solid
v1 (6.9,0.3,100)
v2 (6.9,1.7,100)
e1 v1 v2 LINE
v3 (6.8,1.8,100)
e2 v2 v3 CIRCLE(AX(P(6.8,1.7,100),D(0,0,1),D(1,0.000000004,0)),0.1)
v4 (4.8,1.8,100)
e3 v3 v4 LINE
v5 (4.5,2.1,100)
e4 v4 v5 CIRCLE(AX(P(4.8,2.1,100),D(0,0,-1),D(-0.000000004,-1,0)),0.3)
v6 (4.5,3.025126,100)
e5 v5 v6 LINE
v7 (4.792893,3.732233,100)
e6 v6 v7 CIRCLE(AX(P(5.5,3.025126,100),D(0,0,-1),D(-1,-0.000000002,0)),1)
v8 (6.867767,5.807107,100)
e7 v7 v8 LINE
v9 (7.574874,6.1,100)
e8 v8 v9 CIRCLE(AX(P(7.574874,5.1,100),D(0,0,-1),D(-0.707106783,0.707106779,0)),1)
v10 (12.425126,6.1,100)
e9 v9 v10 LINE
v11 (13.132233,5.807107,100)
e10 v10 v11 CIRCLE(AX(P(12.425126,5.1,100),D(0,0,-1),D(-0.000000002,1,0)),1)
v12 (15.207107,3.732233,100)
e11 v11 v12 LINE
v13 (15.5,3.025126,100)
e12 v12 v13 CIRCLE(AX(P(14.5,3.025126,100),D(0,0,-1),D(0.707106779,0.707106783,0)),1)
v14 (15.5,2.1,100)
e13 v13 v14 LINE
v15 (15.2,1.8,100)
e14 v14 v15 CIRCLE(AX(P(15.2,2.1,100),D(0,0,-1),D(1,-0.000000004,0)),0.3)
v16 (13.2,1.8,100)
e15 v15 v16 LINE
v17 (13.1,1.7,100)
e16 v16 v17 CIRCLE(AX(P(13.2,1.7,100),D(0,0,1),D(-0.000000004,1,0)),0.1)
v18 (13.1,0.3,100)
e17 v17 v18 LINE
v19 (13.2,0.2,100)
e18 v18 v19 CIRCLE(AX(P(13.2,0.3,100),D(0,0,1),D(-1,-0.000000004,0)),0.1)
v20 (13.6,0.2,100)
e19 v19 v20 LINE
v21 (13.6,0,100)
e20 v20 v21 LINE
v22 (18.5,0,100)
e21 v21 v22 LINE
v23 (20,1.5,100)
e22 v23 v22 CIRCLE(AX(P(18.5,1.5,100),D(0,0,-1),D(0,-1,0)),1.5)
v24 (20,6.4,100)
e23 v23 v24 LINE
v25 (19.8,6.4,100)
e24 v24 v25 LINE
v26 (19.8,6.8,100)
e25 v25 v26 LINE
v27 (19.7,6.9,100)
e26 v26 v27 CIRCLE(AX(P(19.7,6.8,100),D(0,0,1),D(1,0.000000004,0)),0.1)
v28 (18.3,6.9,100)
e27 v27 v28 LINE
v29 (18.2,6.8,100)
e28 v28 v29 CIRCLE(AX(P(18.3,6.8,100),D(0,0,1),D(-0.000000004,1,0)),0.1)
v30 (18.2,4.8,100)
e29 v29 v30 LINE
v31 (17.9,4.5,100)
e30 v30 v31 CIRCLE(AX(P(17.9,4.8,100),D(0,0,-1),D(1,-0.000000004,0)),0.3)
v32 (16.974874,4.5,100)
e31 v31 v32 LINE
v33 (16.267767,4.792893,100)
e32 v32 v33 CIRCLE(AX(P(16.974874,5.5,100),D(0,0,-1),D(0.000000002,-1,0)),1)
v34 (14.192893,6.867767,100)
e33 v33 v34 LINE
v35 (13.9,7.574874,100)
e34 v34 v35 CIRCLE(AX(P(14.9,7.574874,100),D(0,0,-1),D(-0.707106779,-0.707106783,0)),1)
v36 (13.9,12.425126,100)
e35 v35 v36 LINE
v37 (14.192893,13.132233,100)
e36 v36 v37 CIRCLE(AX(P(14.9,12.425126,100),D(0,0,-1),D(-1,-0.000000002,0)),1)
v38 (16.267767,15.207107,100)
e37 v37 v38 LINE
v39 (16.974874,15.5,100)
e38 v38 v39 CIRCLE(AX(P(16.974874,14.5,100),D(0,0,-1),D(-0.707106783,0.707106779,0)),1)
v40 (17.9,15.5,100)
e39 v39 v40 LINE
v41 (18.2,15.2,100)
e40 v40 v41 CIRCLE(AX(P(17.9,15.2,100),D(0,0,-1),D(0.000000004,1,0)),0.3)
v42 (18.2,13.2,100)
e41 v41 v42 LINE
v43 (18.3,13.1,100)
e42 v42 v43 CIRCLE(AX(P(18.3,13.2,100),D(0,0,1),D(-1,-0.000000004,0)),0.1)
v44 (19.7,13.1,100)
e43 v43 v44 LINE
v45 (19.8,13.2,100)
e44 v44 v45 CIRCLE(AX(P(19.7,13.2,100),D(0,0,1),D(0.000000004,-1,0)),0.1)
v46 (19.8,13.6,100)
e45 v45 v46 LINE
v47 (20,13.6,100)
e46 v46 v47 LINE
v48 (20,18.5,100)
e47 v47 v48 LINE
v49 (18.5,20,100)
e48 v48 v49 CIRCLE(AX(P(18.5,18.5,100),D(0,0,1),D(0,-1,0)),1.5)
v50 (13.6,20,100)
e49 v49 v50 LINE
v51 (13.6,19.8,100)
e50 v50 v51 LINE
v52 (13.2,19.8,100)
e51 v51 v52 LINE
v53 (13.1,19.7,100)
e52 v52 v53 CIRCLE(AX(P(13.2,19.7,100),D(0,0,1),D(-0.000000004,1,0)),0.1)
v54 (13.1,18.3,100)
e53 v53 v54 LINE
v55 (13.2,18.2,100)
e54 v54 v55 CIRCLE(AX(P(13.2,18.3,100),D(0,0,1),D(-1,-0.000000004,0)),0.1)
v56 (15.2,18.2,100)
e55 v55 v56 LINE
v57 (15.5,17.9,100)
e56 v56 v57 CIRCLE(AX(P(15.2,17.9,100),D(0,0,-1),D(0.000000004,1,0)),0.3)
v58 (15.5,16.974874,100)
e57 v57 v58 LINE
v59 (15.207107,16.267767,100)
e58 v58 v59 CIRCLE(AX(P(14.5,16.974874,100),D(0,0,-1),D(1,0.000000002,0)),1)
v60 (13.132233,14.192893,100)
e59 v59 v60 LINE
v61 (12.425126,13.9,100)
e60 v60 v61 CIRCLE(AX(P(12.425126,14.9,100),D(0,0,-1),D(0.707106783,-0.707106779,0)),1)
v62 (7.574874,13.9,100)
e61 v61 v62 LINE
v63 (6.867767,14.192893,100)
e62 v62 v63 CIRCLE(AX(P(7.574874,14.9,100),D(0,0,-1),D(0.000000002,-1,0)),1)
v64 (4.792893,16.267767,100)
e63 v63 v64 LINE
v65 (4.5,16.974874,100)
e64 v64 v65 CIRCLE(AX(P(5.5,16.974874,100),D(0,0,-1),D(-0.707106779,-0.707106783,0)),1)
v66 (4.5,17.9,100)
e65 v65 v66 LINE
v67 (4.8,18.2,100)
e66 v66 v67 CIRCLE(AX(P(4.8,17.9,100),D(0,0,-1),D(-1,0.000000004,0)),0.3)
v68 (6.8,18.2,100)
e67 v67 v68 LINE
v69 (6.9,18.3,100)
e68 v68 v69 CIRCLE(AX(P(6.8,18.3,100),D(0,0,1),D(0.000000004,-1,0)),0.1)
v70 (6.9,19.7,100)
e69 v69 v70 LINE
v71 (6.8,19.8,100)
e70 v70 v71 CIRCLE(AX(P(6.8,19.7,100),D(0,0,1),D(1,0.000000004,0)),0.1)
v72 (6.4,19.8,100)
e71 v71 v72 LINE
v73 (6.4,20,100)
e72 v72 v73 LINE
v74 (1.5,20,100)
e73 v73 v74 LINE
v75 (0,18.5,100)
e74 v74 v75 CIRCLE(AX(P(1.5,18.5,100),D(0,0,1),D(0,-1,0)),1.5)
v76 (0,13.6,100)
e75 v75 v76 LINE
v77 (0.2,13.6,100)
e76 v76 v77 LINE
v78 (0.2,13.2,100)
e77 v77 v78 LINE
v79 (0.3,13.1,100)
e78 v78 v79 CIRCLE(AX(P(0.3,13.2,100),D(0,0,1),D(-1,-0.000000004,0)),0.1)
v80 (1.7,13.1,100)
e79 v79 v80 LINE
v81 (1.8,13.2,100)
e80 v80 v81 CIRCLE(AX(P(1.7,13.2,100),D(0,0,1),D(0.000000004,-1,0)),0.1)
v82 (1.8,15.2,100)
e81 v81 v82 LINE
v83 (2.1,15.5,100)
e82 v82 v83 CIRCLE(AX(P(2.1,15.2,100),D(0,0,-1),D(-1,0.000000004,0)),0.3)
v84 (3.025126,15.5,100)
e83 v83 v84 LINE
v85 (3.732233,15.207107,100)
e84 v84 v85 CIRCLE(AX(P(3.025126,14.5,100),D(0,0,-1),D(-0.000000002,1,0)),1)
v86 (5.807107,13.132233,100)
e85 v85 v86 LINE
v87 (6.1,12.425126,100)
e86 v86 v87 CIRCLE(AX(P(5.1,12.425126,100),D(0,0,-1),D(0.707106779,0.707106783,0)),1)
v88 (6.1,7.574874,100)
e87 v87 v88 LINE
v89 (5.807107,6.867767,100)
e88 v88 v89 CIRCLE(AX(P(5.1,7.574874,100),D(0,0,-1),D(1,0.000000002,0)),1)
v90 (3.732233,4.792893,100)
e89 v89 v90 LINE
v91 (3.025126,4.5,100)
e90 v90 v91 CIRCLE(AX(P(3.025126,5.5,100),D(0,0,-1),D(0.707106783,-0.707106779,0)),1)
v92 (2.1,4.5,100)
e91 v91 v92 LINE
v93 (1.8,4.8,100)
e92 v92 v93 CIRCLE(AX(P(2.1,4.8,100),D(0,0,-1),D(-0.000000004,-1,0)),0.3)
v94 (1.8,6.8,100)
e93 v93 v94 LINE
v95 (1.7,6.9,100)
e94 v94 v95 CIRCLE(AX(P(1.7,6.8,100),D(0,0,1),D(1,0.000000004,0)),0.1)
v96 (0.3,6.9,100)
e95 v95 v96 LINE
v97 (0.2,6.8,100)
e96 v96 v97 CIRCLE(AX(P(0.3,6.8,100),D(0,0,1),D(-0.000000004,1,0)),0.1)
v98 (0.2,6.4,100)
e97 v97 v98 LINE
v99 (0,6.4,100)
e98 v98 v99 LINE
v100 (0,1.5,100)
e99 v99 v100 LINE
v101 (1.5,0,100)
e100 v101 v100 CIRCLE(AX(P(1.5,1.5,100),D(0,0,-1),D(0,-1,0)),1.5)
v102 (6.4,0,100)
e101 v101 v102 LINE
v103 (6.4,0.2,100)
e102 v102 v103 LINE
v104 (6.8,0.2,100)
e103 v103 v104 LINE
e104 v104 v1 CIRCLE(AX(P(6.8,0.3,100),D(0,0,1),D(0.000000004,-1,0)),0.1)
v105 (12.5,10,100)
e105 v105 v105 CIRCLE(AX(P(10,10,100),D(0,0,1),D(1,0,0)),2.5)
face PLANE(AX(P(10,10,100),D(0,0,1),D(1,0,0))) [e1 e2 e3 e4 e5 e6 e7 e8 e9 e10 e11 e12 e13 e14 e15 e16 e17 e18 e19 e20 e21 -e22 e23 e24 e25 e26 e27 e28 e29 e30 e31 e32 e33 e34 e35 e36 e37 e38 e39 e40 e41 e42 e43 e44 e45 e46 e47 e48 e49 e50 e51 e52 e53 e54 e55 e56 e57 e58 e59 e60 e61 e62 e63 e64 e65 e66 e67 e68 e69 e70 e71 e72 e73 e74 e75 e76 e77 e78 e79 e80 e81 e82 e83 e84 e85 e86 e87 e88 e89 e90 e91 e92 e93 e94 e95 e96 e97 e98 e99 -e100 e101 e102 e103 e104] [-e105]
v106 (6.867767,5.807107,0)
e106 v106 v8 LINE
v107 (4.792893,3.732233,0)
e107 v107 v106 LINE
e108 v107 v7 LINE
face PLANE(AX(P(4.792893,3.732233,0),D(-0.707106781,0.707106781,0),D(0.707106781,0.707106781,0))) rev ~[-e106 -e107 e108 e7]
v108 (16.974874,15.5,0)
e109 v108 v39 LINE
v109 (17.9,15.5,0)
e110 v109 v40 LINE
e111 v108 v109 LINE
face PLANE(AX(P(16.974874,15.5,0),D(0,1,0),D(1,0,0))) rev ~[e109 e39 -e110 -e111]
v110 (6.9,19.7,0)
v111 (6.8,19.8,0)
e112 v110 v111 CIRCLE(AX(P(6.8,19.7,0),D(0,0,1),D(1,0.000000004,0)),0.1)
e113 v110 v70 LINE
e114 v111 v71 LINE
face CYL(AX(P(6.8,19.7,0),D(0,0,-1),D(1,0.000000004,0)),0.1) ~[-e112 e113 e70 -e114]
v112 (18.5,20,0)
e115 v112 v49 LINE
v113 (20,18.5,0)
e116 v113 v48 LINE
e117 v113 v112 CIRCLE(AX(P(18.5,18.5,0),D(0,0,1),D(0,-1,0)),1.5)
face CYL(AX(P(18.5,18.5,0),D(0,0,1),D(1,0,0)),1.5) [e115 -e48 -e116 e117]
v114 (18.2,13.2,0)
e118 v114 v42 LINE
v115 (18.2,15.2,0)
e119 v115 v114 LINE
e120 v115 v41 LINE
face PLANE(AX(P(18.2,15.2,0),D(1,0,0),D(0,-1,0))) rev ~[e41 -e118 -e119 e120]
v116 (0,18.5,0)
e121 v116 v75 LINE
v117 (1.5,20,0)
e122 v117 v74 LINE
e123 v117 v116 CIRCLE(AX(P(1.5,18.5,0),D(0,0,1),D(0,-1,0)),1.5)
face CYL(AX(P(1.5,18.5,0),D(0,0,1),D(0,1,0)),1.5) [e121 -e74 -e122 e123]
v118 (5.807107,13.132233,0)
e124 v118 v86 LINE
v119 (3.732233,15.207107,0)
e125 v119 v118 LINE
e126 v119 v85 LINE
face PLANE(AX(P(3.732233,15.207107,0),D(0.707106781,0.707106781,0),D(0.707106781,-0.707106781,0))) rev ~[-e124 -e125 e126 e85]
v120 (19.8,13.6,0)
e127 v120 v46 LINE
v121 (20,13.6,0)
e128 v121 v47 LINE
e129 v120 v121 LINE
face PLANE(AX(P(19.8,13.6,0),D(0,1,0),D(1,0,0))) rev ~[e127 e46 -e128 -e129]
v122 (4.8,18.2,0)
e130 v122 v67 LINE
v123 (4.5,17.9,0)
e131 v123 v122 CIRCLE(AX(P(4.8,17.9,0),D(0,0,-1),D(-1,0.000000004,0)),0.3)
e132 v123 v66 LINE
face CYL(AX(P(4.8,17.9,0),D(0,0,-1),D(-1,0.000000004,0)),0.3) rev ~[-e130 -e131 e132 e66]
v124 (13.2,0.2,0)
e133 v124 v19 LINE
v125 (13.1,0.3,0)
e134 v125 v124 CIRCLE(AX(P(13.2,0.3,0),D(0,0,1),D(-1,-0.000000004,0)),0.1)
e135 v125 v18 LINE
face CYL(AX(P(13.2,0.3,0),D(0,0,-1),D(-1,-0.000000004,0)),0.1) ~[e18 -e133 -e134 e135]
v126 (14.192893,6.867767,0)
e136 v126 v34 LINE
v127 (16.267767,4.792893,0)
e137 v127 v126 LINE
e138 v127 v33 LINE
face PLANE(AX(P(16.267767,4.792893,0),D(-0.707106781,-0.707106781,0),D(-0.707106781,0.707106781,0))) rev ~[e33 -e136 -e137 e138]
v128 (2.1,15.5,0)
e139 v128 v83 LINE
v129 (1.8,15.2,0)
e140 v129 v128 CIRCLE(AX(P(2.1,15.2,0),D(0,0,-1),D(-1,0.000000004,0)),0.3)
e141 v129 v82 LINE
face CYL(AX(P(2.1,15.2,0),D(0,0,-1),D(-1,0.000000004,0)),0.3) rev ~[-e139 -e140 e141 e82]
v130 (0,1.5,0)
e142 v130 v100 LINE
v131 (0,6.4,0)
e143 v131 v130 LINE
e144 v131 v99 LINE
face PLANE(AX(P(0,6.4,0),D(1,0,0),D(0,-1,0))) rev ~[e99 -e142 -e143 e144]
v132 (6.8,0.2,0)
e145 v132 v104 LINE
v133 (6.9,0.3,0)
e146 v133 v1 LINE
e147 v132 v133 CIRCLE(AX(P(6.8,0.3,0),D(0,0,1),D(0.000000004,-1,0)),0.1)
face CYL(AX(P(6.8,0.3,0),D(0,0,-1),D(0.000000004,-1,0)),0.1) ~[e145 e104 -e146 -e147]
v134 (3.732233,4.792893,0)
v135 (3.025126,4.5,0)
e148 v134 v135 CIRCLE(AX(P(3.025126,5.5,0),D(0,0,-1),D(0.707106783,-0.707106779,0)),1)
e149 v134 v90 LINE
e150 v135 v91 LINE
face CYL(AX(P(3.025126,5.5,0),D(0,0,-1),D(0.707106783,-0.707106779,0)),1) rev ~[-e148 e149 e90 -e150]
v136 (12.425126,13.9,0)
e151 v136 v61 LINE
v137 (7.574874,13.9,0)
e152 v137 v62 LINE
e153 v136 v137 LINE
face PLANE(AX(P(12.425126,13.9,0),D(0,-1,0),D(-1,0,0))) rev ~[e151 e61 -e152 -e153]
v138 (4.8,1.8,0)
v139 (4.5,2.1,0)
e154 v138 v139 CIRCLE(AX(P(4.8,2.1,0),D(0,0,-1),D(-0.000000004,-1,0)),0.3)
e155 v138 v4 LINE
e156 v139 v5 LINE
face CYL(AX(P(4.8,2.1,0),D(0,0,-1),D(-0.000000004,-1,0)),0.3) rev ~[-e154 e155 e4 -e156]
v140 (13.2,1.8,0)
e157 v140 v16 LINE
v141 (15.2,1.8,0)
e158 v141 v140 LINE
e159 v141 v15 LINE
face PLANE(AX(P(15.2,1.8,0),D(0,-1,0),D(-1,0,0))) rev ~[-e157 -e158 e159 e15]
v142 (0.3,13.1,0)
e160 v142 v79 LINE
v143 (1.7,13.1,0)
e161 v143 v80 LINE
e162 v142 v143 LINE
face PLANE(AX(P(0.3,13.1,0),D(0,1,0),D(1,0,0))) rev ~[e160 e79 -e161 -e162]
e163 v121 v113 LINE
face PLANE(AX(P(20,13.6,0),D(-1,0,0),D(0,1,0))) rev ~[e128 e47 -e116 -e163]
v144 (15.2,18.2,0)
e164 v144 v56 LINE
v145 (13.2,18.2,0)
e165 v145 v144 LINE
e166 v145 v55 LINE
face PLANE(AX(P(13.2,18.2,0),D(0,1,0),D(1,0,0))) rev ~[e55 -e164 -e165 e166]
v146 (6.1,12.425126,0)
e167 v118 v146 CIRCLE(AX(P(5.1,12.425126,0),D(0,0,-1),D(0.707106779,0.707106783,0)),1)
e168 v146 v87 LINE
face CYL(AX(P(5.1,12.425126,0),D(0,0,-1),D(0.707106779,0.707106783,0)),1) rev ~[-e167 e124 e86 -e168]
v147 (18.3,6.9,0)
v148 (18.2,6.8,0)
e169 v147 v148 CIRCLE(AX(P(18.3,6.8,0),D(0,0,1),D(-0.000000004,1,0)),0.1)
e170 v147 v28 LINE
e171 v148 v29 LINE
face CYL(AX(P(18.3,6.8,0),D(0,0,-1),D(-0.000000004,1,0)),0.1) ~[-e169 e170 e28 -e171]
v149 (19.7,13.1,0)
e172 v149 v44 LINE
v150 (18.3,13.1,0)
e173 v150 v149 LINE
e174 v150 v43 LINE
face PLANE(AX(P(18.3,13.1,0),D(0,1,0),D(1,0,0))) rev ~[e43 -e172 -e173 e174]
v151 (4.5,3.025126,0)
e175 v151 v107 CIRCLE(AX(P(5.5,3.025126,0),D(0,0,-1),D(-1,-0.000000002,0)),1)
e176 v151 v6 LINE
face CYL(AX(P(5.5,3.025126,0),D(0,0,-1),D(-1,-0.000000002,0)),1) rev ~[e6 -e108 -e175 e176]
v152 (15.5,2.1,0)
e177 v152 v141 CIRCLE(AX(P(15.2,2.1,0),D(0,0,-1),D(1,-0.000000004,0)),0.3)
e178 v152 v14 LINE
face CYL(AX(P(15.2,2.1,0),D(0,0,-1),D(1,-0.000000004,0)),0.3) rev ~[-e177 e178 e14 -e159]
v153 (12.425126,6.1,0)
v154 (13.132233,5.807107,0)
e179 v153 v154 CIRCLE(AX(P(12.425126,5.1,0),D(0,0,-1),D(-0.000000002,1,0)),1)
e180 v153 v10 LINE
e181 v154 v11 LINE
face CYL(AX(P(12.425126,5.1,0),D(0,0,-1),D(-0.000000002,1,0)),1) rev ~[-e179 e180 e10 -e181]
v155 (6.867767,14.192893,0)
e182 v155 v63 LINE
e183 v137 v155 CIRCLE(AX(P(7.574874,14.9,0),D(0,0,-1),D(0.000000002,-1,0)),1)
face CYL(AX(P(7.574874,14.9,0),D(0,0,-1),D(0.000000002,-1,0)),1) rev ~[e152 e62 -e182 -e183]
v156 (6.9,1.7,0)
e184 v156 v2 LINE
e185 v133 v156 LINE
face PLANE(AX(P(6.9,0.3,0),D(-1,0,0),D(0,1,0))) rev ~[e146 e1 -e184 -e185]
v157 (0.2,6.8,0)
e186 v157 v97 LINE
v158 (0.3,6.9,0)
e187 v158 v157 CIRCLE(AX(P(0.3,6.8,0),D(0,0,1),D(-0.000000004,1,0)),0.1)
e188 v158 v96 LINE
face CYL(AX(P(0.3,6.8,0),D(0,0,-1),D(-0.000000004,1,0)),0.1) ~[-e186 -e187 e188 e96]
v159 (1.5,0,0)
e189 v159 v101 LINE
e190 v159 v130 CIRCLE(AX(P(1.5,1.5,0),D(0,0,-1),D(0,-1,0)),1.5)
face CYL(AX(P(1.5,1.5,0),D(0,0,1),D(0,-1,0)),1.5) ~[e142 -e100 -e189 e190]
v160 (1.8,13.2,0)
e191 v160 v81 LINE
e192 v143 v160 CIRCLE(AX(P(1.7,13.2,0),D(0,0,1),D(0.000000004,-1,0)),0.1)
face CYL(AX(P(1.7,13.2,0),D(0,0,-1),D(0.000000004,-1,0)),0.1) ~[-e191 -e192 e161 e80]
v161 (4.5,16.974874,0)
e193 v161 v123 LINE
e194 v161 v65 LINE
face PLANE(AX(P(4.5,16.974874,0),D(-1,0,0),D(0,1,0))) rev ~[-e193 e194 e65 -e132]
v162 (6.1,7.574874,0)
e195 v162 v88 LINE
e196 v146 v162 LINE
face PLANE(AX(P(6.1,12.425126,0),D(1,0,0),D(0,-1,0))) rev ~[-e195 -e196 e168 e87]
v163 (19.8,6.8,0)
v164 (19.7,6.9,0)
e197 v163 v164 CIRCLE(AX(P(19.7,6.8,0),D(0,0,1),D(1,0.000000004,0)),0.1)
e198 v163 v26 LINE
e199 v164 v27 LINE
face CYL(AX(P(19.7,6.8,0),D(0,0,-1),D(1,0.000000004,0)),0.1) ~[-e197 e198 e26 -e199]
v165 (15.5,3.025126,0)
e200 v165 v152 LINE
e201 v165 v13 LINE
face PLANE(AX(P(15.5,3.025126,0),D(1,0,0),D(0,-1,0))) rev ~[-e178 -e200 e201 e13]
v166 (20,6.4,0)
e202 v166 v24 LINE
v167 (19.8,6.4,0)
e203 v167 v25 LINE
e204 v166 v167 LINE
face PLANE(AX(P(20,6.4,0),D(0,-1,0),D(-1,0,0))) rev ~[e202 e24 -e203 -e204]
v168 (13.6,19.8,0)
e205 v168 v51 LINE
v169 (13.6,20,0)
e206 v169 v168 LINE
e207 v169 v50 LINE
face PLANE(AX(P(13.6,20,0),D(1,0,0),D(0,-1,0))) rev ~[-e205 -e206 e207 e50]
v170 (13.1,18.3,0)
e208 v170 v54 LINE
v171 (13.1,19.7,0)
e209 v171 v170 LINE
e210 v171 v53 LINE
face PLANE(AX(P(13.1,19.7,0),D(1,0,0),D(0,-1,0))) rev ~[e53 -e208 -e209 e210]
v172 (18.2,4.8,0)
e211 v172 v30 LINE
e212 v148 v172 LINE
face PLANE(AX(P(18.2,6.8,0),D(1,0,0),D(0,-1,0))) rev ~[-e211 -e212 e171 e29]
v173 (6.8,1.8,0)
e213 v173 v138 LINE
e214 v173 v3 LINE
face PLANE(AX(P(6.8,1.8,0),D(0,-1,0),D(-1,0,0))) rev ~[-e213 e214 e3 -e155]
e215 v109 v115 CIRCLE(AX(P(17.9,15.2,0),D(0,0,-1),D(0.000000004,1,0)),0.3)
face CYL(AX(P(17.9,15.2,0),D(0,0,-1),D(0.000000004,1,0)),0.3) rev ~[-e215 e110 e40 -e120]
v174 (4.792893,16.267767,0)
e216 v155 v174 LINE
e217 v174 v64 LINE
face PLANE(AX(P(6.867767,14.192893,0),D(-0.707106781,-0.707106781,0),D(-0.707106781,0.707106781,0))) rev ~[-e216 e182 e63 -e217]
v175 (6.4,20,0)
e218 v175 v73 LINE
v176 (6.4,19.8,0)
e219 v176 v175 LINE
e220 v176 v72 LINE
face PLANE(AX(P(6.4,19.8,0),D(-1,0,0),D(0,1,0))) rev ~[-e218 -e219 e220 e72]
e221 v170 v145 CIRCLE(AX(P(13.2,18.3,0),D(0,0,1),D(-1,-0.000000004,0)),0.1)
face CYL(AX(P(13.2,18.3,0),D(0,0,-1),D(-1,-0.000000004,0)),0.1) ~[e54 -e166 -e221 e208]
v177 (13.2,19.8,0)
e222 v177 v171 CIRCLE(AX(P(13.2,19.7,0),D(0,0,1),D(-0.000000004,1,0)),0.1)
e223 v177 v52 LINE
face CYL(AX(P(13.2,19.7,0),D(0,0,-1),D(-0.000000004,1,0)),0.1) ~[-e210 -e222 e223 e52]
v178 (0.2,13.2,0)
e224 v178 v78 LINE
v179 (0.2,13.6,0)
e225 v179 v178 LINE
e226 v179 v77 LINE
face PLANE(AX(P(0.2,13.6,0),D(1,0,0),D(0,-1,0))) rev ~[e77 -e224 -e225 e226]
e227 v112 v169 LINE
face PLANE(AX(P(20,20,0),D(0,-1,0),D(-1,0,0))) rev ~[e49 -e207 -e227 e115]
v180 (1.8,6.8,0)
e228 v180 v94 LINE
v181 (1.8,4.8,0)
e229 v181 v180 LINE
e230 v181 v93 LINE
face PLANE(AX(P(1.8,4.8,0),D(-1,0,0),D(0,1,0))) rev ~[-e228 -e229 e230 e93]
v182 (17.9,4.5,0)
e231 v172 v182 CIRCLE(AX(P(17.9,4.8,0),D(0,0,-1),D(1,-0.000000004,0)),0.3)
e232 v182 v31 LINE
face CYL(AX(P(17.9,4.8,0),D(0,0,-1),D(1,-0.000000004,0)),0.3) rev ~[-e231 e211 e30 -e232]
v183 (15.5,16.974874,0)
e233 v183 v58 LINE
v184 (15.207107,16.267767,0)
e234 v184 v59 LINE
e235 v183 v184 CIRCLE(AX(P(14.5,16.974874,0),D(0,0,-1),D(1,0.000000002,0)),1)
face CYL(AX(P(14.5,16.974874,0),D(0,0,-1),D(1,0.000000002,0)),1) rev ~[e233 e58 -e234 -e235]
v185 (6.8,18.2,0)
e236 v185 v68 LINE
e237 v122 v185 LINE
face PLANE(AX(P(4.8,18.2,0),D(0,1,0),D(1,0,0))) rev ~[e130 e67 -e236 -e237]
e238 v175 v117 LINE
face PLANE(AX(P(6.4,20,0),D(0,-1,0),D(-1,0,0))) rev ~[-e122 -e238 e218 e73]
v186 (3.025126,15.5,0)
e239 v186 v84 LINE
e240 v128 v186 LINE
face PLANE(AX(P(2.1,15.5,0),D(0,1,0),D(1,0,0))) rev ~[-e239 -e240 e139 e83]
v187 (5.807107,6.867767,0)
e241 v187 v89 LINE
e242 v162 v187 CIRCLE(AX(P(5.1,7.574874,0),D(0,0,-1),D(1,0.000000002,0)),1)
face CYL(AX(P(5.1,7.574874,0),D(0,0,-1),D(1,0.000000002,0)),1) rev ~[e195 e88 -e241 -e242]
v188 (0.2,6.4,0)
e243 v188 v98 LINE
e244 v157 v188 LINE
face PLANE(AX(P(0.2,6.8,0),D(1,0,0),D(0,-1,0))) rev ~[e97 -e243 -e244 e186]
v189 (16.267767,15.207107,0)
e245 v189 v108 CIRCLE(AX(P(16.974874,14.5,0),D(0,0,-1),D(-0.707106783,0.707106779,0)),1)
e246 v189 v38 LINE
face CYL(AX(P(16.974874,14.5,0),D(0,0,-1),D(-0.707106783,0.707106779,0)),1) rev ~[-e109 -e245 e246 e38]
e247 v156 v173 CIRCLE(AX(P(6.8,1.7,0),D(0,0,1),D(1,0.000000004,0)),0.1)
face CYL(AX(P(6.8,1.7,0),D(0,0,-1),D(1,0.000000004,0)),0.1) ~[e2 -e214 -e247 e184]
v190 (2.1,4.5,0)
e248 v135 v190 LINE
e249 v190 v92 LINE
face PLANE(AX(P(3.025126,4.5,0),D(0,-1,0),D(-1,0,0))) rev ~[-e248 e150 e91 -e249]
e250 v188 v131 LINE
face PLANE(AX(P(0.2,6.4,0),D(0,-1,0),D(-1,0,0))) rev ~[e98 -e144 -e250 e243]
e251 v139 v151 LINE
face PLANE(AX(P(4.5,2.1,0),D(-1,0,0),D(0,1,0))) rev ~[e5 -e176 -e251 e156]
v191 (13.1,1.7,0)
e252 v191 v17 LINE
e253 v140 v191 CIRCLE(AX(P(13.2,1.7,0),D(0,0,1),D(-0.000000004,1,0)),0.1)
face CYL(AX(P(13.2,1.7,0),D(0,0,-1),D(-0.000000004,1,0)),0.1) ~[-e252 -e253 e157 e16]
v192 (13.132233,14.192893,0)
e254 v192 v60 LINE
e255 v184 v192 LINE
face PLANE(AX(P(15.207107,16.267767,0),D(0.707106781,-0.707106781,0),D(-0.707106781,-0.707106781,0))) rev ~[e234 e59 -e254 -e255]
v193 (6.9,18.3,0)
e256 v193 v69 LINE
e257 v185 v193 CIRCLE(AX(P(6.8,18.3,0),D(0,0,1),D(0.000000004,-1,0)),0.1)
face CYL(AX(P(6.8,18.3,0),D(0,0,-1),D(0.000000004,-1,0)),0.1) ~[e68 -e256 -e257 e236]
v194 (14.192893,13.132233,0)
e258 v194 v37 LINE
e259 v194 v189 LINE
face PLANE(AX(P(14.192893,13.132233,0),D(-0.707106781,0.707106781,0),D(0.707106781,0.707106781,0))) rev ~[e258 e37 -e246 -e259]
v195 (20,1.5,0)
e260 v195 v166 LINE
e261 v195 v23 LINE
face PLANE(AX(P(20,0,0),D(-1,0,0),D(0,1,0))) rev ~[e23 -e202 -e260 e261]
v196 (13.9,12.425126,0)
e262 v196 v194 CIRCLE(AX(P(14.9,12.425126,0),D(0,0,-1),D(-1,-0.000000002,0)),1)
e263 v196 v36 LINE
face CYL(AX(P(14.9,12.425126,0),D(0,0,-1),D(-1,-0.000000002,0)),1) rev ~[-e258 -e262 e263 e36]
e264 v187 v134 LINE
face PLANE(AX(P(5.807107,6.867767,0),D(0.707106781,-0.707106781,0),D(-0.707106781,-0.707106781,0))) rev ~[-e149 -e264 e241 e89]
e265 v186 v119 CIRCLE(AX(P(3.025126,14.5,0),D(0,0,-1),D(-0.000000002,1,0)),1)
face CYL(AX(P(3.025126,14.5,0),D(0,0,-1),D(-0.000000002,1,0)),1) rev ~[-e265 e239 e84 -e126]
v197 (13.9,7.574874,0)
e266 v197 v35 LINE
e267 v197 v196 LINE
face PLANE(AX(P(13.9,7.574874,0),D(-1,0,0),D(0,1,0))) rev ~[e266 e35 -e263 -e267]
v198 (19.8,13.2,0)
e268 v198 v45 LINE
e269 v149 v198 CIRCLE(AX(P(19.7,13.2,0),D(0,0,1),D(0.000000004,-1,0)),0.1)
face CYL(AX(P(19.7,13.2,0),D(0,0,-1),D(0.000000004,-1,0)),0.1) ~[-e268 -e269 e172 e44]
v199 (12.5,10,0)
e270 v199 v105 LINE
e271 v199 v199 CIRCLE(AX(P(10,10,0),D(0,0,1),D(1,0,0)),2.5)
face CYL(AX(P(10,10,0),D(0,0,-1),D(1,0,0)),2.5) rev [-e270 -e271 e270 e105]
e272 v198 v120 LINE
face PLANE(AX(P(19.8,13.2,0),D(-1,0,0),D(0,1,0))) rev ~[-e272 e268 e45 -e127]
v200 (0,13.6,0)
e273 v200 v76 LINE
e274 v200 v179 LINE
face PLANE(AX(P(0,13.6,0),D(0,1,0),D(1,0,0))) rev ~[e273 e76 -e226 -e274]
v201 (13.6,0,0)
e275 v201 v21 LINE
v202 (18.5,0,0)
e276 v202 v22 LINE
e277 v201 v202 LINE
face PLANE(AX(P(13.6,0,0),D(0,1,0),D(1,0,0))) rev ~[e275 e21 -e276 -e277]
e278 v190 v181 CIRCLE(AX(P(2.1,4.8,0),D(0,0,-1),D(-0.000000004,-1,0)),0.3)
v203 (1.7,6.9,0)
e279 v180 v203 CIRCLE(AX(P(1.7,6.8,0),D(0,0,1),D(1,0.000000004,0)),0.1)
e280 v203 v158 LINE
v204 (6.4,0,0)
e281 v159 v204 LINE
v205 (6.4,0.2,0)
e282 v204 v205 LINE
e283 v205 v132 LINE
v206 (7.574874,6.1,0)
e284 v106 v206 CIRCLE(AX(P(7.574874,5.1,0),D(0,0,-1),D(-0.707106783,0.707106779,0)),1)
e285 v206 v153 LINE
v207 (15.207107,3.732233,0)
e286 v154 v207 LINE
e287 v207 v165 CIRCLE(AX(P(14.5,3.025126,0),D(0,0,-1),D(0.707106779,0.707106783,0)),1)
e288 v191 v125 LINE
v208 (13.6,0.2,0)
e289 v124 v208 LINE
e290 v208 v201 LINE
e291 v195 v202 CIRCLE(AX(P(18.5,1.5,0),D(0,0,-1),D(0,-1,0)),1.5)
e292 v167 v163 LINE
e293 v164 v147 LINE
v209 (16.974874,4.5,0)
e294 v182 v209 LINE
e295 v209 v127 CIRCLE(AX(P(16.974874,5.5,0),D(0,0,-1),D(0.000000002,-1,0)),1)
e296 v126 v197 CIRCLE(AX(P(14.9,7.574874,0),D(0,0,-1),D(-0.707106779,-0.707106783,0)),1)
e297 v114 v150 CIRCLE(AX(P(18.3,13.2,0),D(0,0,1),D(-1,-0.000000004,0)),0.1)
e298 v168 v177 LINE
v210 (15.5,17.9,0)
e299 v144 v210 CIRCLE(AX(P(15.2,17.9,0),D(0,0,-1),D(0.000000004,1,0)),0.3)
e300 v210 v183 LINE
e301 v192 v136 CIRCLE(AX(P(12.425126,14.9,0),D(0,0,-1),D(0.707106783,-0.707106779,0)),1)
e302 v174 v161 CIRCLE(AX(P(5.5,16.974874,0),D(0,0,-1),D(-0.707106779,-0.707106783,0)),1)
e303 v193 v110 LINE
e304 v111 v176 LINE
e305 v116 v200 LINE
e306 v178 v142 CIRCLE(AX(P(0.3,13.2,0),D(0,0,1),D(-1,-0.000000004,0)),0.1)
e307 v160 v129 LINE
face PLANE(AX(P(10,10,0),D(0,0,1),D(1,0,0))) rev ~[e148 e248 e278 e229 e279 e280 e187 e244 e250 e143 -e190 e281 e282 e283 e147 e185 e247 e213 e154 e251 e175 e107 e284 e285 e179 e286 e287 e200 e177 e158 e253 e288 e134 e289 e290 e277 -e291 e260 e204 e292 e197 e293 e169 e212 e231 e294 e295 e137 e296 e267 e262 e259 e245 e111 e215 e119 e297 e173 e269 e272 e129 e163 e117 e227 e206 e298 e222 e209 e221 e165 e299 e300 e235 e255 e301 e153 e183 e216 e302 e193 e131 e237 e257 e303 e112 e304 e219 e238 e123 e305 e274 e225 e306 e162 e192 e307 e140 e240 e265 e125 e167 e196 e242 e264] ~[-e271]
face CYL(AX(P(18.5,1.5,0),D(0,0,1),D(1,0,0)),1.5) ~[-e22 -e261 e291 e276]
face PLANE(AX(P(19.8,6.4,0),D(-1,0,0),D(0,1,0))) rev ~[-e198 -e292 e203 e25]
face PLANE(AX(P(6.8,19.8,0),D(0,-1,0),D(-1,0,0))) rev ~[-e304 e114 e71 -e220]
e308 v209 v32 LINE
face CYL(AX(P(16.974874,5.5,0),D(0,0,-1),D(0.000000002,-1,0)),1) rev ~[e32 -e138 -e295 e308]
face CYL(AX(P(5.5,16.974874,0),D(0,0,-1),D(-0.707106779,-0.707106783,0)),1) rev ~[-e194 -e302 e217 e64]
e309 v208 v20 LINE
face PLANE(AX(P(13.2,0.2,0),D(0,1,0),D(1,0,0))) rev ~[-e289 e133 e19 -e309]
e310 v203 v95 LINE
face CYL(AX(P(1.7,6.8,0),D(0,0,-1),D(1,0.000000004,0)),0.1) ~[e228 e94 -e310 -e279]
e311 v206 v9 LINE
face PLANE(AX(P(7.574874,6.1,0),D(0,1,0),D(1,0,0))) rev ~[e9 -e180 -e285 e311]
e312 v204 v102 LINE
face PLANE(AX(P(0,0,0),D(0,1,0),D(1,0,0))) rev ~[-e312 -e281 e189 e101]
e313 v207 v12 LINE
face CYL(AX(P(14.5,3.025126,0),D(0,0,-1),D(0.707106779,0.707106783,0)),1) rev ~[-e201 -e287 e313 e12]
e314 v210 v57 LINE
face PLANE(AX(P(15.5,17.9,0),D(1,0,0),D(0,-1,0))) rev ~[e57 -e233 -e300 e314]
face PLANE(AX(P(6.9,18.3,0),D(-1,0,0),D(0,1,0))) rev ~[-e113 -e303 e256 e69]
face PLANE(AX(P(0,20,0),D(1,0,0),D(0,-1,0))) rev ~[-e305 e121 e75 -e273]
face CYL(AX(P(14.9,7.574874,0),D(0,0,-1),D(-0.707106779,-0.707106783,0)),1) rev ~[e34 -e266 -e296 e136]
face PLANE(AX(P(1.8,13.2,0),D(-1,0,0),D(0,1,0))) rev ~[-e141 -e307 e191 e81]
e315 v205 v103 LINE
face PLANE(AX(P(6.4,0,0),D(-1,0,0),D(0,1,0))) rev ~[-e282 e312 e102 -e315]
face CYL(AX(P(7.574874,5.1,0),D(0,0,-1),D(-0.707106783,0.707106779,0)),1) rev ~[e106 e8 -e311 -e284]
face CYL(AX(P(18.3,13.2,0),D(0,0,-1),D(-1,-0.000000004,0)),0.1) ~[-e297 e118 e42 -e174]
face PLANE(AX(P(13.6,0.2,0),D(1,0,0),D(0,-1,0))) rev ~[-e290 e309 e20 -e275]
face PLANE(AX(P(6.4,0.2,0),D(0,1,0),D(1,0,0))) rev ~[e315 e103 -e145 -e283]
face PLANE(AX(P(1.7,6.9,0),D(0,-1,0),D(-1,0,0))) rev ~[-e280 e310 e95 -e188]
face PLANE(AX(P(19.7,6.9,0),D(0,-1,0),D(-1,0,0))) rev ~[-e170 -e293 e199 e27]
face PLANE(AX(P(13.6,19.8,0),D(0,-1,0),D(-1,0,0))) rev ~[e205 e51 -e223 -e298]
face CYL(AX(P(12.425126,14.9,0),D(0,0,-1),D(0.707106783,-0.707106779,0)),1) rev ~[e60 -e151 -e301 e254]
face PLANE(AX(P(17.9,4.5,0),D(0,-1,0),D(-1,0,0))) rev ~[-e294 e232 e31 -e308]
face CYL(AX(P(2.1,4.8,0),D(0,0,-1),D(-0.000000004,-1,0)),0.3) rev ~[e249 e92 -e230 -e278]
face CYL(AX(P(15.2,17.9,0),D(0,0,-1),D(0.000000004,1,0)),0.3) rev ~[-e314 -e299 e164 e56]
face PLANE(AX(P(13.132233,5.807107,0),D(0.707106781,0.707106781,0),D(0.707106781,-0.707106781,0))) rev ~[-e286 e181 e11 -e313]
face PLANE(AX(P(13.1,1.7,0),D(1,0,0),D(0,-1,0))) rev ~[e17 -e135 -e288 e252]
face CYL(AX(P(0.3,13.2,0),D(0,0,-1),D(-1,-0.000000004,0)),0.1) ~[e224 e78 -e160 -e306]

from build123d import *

# Parameters (mm, degrees)
SKETCH_1_R      = 2.5
EXTRUDE_1_DEPTH = 100
FILLET_1_R      = 1.5


with BuildPart() as part:
    # 草图1 → 凸台-拉伸1 (new body)
    with BuildSketch(Plane.XY):
        with BuildLine():
            Line((20, 13.6), (20, 20))
            Line((20, 20), (13.6, 20))
            Line((13.6, 20), (13.6, 19.8))
            Line((13.6, 19.8), (13.2, 19.8))
            ThreePointArc((13.2, 19.8), (13.129289322, 19.770710678), (13.1, 19.7))
            Line((13.1, 19.7), (13.1, 18.3))
            ThreePointArc((13.1, 18.3), (13.129289322, 18.229289322), (13.2, 18.2))
            Line((13.2, 18.2), (15.2, 18.2))
            ThreePointArc((15.2, 18.2), (15.412132034, 18.112132034), (15.5, 17.9))
            Line((15.5, 17.9), (15.5, 16.974873734))
            ThreePointArc((15.5, 16.974873734), (15.423879533, 16.592190302), (15.207106781, 16.267766953))
            Line((15.207106781, 16.267766953), (13.132233047, 14.192893219))
            ThreePointArc((13.132233047, 14.192893219), (12.807809698, 13.976120467), (12.425126266, 13.9))
            Line((12.425126266, 13.9), (7.574873734, 13.9))
            ThreePointArc((7.574873734, 13.9), (7.192190302, 13.976120467), (6.867766953, 14.192893219))
            Line((6.867766953, 14.192893219), (4.792893219, 16.267766953))
            ThreePointArc((4.792893219, 16.267766953), (4.576120467, 16.592190302), (4.5, 16.974873734))
            Line((4.5, 16.974873734), (4.5, 17.9))
            ThreePointArc((4.5, 17.9), (4.587867966, 18.112132034), (4.8, 18.2))
            Line((4.8, 18.2), (6.8, 18.2))
            ThreePointArc((6.8, 18.2), (6.870710678, 18.229289322), (6.9, 18.3))
            Line((6.9, 18.3), (6.9, 19.7))
            ThreePointArc((6.9, 19.7), (6.870710678, 19.770710678), (6.8, 19.8))
            Line((6.8, 19.8), (6.4, 19.8))
            Line((6.4, 19.8), (6.4, 20))
            Line((6.4, 20), (0, 20))
            Line((0, 20), (0, 13.6))
            Line((0, 13.6), (0.2, 13.6))
            Line((0.2, 13.6), (0.2, 13.2))
            ThreePointArc((0.2, 13.2), (0.229289322, 13.129289322), (0.3, 13.1))
            Line((0.3, 13.1), (1.7, 13.1))
            ThreePointArc((1.7, 13.1), (1.770710678, 13.129289322), (1.8, 13.2))
            Line((1.8, 13.2), (1.8, 15.2))
            ThreePointArc((1.8, 15.2), (1.887867966, 15.412132034), (2.1, 15.5))
            Line((2.1, 15.5), (3.025126266, 15.5))
            ThreePointArc((3.025126266, 15.5), (3.407809698, 15.423879533), (3.732233047, 15.207106781))
            Line((3.732233047, 15.207106781), (5.807106781, 13.132233047))
            ThreePointArc((5.807106781, 13.132233047), (6.023879533, 12.807809698), (6.1, 12.425126266))
            Line((6.1, 12.425126266), (6.1, 7.574873734))
            ThreePointArc((6.1, 7.574873734), (6.023879533, 7.192190302), (5.807106781, 6.867766953))
            Line((5.807106781, 6.867766953), (3.732233047, 4.792893219))
            ThreePointArc((3.732233047, 4.792893219), (3.407809698, 4.576120467), (3.025126266, 4.5))
            Line((3.025126266, 4.5), (2.1, 4.5))
            ThreePointArc((2.1, 4.5), (1.887867966, 4.587867966), (1.8, 4.8))
            Line((1.8, 4.8), (1.8, 6.8))
            ThreePointArc((1.8, 6.8), (1.770710678, 6.870710678), (1.7, 6.9))
            Line((1.7, 6.9), (0.3, 6.9))
            ThreePointArc((0.3, 6.9), (0.229289322, 6.870710678), (0.2, 6.8))
            Line((0.2, 6.8), (0.2, 6.4))
            Line((0.2, 6.4), (0, 6.4))
            Line((0, 6.4), (0, 0))
            Line((0, 0), (6.4, 0))
            Line((6.4, 0), (6.4, 0.2))
            Line((6.4, 0.2), (6.8, 0.2))
            ThreePointArc((6.8, 0.2), (6.870710678, 0.229289322), (6.9, 0.3))
            Line((6.9, 0.3), (6.9, 1.7))
            ThreePointArc((6.9, 1.7), (6.870710678, 1.770710678), (6.8, 1.8))
            Line((6.8, 1.8), (4.8, 1.8))
            ThreePointArc((4.8, 1.8), (4.587867966, 1.887867966), (4.5, 2.1))
            Line((4.5, 2.1), (4.5, 3.025126266))
            ThreePointArc((4.5, 3.025126266), (4.576120467, 3.407809698), (4.792893219, 3.732233047))
            Line((4.792893219, 3.732233047), (6.867766953, 5.807106781))
            ThreePointArc((6.867766953, 5.807106781), (7.192190302, 6.023879533), (7.574873734, 6.1))
            Line((7.574873734, 6.1), (12.425126266, 6.1))
            ThreePointArc((12.425126266, 6.1), (12.807809698, 6.023879533), (13.132233047, 5.807106781))
            Line((13.132233047, 5.807106781), (15.207106781, 3.732233047))
            ThreePointArc((15.207106781, 3.732233047), (15.423879533, 3.407809698), (15.5, 3.025126266))
            Line((15.5, 3.025126266), (15.5, 2.1))
            ThreePointArc((15.5, 2.1), (15.412132034, 1.887867966), (15.2, 1.8))
            Line((15.2, 1.8), (13.2, 1.8))
            ThreePointArc((13.2, 1.8), (13.129289322, 1.770710678), (13.1, 1.7))
            Line((13.1, 1.7), (13.1, 0.3))
            ThreePointArc((13.1, 0.3), (13.129289322, 0.229289322), (13.2, 0.2))
            Line((13.2, 0.2), (13.6, 0.2))
            Line((13.6, 0.2), (13.6, 0))
            Line((13.6, 0), (20, 0))
            Line((20, 0), (20, 6.4))
            Line((20, 6.4), (19.8, 6.4))
            Line((19.8, 6.4), (19.8, 6.8))
            ThreePointArc((19.8, 6.8), (19.770710678, 6.870710678), (19.7, 6.9))
            Line((19.7, 6.9), (18.3, 6.9))
            ThreePointArc((18.3, 6.9), (18.229289322, 6.870710678), (18.2, 6.8))
            Line((18.2, 6.8), (18.2, 4.8))
            ThreePointArc((18.2, 4.8), (18.112132034, 4.587867966), (17.9, 4.5))
            Line((17.9, 4.5), (16.974873734, 4.5))
            ThreePointArc((16.974873734, 4.5), (16.592190302, 4.576120467), (16.267766953, 4.792893219))
            Line((16.267766953, 4.792893219), (14.192893219, 6.867766953))
            ThreePointArc((14.192893219, 6.867766953), (13.976120467, 7.192190302), (13.9, 7.574873734))
            Line((13.9, 7.574873734), (13.9, 12.425126266))
            ThreePointArc((13.9, 12.425126266), (13.976120467, 12.807809698), (14.192893219, 13.132233047))
            Line((14.192893219, 13.132233047), (16.267766953, 15.207106781))
            ThreePointArc((16.267766953, 15.207106781), (16.592190302, 15.423879533), (16.974873734, 15.5))
            Line((16.974873734, 15.5), (17.9, 15.5))
            ThreePointArc((17.9, 15.5), (18.112132034, 15.412132034), (18.2, 15.2))
            Line((18.2, 15.2), (18.2, 13.2))
            ThreePointArc((18.2, 13.2), (18.229289322, 13.129289322), (18.3, 13.1))
            Line((18.3, 13.1), (19.7, 13.1))
            ThreePointArc((19.7, 13.1), (19.770710678, 13.129289322), (19.8, 13.2))
            Line((19.8, 13.2), (19.8, 13.6))
            Line((19.8, 13.6), (20, 13.6))
        make_face()
        with Locations((10, 10)):
            Circle(SKETCH_1_R, mode=Mode.SUBTRACT)
    extrude(amount=EXTRUDE_1_DEPTH)

    # 圆角1
    fillet_1_edges = [part.edges().sort_by_distance(p)[0] for p in [
        (0, 0, 50),
        (0, 20, 50),
        (20, 20, 50),
        (20, 0, 50),
    ]]
    fillet(fillet_1_edges, radius=FILLET_1_R)


solid = part.part
